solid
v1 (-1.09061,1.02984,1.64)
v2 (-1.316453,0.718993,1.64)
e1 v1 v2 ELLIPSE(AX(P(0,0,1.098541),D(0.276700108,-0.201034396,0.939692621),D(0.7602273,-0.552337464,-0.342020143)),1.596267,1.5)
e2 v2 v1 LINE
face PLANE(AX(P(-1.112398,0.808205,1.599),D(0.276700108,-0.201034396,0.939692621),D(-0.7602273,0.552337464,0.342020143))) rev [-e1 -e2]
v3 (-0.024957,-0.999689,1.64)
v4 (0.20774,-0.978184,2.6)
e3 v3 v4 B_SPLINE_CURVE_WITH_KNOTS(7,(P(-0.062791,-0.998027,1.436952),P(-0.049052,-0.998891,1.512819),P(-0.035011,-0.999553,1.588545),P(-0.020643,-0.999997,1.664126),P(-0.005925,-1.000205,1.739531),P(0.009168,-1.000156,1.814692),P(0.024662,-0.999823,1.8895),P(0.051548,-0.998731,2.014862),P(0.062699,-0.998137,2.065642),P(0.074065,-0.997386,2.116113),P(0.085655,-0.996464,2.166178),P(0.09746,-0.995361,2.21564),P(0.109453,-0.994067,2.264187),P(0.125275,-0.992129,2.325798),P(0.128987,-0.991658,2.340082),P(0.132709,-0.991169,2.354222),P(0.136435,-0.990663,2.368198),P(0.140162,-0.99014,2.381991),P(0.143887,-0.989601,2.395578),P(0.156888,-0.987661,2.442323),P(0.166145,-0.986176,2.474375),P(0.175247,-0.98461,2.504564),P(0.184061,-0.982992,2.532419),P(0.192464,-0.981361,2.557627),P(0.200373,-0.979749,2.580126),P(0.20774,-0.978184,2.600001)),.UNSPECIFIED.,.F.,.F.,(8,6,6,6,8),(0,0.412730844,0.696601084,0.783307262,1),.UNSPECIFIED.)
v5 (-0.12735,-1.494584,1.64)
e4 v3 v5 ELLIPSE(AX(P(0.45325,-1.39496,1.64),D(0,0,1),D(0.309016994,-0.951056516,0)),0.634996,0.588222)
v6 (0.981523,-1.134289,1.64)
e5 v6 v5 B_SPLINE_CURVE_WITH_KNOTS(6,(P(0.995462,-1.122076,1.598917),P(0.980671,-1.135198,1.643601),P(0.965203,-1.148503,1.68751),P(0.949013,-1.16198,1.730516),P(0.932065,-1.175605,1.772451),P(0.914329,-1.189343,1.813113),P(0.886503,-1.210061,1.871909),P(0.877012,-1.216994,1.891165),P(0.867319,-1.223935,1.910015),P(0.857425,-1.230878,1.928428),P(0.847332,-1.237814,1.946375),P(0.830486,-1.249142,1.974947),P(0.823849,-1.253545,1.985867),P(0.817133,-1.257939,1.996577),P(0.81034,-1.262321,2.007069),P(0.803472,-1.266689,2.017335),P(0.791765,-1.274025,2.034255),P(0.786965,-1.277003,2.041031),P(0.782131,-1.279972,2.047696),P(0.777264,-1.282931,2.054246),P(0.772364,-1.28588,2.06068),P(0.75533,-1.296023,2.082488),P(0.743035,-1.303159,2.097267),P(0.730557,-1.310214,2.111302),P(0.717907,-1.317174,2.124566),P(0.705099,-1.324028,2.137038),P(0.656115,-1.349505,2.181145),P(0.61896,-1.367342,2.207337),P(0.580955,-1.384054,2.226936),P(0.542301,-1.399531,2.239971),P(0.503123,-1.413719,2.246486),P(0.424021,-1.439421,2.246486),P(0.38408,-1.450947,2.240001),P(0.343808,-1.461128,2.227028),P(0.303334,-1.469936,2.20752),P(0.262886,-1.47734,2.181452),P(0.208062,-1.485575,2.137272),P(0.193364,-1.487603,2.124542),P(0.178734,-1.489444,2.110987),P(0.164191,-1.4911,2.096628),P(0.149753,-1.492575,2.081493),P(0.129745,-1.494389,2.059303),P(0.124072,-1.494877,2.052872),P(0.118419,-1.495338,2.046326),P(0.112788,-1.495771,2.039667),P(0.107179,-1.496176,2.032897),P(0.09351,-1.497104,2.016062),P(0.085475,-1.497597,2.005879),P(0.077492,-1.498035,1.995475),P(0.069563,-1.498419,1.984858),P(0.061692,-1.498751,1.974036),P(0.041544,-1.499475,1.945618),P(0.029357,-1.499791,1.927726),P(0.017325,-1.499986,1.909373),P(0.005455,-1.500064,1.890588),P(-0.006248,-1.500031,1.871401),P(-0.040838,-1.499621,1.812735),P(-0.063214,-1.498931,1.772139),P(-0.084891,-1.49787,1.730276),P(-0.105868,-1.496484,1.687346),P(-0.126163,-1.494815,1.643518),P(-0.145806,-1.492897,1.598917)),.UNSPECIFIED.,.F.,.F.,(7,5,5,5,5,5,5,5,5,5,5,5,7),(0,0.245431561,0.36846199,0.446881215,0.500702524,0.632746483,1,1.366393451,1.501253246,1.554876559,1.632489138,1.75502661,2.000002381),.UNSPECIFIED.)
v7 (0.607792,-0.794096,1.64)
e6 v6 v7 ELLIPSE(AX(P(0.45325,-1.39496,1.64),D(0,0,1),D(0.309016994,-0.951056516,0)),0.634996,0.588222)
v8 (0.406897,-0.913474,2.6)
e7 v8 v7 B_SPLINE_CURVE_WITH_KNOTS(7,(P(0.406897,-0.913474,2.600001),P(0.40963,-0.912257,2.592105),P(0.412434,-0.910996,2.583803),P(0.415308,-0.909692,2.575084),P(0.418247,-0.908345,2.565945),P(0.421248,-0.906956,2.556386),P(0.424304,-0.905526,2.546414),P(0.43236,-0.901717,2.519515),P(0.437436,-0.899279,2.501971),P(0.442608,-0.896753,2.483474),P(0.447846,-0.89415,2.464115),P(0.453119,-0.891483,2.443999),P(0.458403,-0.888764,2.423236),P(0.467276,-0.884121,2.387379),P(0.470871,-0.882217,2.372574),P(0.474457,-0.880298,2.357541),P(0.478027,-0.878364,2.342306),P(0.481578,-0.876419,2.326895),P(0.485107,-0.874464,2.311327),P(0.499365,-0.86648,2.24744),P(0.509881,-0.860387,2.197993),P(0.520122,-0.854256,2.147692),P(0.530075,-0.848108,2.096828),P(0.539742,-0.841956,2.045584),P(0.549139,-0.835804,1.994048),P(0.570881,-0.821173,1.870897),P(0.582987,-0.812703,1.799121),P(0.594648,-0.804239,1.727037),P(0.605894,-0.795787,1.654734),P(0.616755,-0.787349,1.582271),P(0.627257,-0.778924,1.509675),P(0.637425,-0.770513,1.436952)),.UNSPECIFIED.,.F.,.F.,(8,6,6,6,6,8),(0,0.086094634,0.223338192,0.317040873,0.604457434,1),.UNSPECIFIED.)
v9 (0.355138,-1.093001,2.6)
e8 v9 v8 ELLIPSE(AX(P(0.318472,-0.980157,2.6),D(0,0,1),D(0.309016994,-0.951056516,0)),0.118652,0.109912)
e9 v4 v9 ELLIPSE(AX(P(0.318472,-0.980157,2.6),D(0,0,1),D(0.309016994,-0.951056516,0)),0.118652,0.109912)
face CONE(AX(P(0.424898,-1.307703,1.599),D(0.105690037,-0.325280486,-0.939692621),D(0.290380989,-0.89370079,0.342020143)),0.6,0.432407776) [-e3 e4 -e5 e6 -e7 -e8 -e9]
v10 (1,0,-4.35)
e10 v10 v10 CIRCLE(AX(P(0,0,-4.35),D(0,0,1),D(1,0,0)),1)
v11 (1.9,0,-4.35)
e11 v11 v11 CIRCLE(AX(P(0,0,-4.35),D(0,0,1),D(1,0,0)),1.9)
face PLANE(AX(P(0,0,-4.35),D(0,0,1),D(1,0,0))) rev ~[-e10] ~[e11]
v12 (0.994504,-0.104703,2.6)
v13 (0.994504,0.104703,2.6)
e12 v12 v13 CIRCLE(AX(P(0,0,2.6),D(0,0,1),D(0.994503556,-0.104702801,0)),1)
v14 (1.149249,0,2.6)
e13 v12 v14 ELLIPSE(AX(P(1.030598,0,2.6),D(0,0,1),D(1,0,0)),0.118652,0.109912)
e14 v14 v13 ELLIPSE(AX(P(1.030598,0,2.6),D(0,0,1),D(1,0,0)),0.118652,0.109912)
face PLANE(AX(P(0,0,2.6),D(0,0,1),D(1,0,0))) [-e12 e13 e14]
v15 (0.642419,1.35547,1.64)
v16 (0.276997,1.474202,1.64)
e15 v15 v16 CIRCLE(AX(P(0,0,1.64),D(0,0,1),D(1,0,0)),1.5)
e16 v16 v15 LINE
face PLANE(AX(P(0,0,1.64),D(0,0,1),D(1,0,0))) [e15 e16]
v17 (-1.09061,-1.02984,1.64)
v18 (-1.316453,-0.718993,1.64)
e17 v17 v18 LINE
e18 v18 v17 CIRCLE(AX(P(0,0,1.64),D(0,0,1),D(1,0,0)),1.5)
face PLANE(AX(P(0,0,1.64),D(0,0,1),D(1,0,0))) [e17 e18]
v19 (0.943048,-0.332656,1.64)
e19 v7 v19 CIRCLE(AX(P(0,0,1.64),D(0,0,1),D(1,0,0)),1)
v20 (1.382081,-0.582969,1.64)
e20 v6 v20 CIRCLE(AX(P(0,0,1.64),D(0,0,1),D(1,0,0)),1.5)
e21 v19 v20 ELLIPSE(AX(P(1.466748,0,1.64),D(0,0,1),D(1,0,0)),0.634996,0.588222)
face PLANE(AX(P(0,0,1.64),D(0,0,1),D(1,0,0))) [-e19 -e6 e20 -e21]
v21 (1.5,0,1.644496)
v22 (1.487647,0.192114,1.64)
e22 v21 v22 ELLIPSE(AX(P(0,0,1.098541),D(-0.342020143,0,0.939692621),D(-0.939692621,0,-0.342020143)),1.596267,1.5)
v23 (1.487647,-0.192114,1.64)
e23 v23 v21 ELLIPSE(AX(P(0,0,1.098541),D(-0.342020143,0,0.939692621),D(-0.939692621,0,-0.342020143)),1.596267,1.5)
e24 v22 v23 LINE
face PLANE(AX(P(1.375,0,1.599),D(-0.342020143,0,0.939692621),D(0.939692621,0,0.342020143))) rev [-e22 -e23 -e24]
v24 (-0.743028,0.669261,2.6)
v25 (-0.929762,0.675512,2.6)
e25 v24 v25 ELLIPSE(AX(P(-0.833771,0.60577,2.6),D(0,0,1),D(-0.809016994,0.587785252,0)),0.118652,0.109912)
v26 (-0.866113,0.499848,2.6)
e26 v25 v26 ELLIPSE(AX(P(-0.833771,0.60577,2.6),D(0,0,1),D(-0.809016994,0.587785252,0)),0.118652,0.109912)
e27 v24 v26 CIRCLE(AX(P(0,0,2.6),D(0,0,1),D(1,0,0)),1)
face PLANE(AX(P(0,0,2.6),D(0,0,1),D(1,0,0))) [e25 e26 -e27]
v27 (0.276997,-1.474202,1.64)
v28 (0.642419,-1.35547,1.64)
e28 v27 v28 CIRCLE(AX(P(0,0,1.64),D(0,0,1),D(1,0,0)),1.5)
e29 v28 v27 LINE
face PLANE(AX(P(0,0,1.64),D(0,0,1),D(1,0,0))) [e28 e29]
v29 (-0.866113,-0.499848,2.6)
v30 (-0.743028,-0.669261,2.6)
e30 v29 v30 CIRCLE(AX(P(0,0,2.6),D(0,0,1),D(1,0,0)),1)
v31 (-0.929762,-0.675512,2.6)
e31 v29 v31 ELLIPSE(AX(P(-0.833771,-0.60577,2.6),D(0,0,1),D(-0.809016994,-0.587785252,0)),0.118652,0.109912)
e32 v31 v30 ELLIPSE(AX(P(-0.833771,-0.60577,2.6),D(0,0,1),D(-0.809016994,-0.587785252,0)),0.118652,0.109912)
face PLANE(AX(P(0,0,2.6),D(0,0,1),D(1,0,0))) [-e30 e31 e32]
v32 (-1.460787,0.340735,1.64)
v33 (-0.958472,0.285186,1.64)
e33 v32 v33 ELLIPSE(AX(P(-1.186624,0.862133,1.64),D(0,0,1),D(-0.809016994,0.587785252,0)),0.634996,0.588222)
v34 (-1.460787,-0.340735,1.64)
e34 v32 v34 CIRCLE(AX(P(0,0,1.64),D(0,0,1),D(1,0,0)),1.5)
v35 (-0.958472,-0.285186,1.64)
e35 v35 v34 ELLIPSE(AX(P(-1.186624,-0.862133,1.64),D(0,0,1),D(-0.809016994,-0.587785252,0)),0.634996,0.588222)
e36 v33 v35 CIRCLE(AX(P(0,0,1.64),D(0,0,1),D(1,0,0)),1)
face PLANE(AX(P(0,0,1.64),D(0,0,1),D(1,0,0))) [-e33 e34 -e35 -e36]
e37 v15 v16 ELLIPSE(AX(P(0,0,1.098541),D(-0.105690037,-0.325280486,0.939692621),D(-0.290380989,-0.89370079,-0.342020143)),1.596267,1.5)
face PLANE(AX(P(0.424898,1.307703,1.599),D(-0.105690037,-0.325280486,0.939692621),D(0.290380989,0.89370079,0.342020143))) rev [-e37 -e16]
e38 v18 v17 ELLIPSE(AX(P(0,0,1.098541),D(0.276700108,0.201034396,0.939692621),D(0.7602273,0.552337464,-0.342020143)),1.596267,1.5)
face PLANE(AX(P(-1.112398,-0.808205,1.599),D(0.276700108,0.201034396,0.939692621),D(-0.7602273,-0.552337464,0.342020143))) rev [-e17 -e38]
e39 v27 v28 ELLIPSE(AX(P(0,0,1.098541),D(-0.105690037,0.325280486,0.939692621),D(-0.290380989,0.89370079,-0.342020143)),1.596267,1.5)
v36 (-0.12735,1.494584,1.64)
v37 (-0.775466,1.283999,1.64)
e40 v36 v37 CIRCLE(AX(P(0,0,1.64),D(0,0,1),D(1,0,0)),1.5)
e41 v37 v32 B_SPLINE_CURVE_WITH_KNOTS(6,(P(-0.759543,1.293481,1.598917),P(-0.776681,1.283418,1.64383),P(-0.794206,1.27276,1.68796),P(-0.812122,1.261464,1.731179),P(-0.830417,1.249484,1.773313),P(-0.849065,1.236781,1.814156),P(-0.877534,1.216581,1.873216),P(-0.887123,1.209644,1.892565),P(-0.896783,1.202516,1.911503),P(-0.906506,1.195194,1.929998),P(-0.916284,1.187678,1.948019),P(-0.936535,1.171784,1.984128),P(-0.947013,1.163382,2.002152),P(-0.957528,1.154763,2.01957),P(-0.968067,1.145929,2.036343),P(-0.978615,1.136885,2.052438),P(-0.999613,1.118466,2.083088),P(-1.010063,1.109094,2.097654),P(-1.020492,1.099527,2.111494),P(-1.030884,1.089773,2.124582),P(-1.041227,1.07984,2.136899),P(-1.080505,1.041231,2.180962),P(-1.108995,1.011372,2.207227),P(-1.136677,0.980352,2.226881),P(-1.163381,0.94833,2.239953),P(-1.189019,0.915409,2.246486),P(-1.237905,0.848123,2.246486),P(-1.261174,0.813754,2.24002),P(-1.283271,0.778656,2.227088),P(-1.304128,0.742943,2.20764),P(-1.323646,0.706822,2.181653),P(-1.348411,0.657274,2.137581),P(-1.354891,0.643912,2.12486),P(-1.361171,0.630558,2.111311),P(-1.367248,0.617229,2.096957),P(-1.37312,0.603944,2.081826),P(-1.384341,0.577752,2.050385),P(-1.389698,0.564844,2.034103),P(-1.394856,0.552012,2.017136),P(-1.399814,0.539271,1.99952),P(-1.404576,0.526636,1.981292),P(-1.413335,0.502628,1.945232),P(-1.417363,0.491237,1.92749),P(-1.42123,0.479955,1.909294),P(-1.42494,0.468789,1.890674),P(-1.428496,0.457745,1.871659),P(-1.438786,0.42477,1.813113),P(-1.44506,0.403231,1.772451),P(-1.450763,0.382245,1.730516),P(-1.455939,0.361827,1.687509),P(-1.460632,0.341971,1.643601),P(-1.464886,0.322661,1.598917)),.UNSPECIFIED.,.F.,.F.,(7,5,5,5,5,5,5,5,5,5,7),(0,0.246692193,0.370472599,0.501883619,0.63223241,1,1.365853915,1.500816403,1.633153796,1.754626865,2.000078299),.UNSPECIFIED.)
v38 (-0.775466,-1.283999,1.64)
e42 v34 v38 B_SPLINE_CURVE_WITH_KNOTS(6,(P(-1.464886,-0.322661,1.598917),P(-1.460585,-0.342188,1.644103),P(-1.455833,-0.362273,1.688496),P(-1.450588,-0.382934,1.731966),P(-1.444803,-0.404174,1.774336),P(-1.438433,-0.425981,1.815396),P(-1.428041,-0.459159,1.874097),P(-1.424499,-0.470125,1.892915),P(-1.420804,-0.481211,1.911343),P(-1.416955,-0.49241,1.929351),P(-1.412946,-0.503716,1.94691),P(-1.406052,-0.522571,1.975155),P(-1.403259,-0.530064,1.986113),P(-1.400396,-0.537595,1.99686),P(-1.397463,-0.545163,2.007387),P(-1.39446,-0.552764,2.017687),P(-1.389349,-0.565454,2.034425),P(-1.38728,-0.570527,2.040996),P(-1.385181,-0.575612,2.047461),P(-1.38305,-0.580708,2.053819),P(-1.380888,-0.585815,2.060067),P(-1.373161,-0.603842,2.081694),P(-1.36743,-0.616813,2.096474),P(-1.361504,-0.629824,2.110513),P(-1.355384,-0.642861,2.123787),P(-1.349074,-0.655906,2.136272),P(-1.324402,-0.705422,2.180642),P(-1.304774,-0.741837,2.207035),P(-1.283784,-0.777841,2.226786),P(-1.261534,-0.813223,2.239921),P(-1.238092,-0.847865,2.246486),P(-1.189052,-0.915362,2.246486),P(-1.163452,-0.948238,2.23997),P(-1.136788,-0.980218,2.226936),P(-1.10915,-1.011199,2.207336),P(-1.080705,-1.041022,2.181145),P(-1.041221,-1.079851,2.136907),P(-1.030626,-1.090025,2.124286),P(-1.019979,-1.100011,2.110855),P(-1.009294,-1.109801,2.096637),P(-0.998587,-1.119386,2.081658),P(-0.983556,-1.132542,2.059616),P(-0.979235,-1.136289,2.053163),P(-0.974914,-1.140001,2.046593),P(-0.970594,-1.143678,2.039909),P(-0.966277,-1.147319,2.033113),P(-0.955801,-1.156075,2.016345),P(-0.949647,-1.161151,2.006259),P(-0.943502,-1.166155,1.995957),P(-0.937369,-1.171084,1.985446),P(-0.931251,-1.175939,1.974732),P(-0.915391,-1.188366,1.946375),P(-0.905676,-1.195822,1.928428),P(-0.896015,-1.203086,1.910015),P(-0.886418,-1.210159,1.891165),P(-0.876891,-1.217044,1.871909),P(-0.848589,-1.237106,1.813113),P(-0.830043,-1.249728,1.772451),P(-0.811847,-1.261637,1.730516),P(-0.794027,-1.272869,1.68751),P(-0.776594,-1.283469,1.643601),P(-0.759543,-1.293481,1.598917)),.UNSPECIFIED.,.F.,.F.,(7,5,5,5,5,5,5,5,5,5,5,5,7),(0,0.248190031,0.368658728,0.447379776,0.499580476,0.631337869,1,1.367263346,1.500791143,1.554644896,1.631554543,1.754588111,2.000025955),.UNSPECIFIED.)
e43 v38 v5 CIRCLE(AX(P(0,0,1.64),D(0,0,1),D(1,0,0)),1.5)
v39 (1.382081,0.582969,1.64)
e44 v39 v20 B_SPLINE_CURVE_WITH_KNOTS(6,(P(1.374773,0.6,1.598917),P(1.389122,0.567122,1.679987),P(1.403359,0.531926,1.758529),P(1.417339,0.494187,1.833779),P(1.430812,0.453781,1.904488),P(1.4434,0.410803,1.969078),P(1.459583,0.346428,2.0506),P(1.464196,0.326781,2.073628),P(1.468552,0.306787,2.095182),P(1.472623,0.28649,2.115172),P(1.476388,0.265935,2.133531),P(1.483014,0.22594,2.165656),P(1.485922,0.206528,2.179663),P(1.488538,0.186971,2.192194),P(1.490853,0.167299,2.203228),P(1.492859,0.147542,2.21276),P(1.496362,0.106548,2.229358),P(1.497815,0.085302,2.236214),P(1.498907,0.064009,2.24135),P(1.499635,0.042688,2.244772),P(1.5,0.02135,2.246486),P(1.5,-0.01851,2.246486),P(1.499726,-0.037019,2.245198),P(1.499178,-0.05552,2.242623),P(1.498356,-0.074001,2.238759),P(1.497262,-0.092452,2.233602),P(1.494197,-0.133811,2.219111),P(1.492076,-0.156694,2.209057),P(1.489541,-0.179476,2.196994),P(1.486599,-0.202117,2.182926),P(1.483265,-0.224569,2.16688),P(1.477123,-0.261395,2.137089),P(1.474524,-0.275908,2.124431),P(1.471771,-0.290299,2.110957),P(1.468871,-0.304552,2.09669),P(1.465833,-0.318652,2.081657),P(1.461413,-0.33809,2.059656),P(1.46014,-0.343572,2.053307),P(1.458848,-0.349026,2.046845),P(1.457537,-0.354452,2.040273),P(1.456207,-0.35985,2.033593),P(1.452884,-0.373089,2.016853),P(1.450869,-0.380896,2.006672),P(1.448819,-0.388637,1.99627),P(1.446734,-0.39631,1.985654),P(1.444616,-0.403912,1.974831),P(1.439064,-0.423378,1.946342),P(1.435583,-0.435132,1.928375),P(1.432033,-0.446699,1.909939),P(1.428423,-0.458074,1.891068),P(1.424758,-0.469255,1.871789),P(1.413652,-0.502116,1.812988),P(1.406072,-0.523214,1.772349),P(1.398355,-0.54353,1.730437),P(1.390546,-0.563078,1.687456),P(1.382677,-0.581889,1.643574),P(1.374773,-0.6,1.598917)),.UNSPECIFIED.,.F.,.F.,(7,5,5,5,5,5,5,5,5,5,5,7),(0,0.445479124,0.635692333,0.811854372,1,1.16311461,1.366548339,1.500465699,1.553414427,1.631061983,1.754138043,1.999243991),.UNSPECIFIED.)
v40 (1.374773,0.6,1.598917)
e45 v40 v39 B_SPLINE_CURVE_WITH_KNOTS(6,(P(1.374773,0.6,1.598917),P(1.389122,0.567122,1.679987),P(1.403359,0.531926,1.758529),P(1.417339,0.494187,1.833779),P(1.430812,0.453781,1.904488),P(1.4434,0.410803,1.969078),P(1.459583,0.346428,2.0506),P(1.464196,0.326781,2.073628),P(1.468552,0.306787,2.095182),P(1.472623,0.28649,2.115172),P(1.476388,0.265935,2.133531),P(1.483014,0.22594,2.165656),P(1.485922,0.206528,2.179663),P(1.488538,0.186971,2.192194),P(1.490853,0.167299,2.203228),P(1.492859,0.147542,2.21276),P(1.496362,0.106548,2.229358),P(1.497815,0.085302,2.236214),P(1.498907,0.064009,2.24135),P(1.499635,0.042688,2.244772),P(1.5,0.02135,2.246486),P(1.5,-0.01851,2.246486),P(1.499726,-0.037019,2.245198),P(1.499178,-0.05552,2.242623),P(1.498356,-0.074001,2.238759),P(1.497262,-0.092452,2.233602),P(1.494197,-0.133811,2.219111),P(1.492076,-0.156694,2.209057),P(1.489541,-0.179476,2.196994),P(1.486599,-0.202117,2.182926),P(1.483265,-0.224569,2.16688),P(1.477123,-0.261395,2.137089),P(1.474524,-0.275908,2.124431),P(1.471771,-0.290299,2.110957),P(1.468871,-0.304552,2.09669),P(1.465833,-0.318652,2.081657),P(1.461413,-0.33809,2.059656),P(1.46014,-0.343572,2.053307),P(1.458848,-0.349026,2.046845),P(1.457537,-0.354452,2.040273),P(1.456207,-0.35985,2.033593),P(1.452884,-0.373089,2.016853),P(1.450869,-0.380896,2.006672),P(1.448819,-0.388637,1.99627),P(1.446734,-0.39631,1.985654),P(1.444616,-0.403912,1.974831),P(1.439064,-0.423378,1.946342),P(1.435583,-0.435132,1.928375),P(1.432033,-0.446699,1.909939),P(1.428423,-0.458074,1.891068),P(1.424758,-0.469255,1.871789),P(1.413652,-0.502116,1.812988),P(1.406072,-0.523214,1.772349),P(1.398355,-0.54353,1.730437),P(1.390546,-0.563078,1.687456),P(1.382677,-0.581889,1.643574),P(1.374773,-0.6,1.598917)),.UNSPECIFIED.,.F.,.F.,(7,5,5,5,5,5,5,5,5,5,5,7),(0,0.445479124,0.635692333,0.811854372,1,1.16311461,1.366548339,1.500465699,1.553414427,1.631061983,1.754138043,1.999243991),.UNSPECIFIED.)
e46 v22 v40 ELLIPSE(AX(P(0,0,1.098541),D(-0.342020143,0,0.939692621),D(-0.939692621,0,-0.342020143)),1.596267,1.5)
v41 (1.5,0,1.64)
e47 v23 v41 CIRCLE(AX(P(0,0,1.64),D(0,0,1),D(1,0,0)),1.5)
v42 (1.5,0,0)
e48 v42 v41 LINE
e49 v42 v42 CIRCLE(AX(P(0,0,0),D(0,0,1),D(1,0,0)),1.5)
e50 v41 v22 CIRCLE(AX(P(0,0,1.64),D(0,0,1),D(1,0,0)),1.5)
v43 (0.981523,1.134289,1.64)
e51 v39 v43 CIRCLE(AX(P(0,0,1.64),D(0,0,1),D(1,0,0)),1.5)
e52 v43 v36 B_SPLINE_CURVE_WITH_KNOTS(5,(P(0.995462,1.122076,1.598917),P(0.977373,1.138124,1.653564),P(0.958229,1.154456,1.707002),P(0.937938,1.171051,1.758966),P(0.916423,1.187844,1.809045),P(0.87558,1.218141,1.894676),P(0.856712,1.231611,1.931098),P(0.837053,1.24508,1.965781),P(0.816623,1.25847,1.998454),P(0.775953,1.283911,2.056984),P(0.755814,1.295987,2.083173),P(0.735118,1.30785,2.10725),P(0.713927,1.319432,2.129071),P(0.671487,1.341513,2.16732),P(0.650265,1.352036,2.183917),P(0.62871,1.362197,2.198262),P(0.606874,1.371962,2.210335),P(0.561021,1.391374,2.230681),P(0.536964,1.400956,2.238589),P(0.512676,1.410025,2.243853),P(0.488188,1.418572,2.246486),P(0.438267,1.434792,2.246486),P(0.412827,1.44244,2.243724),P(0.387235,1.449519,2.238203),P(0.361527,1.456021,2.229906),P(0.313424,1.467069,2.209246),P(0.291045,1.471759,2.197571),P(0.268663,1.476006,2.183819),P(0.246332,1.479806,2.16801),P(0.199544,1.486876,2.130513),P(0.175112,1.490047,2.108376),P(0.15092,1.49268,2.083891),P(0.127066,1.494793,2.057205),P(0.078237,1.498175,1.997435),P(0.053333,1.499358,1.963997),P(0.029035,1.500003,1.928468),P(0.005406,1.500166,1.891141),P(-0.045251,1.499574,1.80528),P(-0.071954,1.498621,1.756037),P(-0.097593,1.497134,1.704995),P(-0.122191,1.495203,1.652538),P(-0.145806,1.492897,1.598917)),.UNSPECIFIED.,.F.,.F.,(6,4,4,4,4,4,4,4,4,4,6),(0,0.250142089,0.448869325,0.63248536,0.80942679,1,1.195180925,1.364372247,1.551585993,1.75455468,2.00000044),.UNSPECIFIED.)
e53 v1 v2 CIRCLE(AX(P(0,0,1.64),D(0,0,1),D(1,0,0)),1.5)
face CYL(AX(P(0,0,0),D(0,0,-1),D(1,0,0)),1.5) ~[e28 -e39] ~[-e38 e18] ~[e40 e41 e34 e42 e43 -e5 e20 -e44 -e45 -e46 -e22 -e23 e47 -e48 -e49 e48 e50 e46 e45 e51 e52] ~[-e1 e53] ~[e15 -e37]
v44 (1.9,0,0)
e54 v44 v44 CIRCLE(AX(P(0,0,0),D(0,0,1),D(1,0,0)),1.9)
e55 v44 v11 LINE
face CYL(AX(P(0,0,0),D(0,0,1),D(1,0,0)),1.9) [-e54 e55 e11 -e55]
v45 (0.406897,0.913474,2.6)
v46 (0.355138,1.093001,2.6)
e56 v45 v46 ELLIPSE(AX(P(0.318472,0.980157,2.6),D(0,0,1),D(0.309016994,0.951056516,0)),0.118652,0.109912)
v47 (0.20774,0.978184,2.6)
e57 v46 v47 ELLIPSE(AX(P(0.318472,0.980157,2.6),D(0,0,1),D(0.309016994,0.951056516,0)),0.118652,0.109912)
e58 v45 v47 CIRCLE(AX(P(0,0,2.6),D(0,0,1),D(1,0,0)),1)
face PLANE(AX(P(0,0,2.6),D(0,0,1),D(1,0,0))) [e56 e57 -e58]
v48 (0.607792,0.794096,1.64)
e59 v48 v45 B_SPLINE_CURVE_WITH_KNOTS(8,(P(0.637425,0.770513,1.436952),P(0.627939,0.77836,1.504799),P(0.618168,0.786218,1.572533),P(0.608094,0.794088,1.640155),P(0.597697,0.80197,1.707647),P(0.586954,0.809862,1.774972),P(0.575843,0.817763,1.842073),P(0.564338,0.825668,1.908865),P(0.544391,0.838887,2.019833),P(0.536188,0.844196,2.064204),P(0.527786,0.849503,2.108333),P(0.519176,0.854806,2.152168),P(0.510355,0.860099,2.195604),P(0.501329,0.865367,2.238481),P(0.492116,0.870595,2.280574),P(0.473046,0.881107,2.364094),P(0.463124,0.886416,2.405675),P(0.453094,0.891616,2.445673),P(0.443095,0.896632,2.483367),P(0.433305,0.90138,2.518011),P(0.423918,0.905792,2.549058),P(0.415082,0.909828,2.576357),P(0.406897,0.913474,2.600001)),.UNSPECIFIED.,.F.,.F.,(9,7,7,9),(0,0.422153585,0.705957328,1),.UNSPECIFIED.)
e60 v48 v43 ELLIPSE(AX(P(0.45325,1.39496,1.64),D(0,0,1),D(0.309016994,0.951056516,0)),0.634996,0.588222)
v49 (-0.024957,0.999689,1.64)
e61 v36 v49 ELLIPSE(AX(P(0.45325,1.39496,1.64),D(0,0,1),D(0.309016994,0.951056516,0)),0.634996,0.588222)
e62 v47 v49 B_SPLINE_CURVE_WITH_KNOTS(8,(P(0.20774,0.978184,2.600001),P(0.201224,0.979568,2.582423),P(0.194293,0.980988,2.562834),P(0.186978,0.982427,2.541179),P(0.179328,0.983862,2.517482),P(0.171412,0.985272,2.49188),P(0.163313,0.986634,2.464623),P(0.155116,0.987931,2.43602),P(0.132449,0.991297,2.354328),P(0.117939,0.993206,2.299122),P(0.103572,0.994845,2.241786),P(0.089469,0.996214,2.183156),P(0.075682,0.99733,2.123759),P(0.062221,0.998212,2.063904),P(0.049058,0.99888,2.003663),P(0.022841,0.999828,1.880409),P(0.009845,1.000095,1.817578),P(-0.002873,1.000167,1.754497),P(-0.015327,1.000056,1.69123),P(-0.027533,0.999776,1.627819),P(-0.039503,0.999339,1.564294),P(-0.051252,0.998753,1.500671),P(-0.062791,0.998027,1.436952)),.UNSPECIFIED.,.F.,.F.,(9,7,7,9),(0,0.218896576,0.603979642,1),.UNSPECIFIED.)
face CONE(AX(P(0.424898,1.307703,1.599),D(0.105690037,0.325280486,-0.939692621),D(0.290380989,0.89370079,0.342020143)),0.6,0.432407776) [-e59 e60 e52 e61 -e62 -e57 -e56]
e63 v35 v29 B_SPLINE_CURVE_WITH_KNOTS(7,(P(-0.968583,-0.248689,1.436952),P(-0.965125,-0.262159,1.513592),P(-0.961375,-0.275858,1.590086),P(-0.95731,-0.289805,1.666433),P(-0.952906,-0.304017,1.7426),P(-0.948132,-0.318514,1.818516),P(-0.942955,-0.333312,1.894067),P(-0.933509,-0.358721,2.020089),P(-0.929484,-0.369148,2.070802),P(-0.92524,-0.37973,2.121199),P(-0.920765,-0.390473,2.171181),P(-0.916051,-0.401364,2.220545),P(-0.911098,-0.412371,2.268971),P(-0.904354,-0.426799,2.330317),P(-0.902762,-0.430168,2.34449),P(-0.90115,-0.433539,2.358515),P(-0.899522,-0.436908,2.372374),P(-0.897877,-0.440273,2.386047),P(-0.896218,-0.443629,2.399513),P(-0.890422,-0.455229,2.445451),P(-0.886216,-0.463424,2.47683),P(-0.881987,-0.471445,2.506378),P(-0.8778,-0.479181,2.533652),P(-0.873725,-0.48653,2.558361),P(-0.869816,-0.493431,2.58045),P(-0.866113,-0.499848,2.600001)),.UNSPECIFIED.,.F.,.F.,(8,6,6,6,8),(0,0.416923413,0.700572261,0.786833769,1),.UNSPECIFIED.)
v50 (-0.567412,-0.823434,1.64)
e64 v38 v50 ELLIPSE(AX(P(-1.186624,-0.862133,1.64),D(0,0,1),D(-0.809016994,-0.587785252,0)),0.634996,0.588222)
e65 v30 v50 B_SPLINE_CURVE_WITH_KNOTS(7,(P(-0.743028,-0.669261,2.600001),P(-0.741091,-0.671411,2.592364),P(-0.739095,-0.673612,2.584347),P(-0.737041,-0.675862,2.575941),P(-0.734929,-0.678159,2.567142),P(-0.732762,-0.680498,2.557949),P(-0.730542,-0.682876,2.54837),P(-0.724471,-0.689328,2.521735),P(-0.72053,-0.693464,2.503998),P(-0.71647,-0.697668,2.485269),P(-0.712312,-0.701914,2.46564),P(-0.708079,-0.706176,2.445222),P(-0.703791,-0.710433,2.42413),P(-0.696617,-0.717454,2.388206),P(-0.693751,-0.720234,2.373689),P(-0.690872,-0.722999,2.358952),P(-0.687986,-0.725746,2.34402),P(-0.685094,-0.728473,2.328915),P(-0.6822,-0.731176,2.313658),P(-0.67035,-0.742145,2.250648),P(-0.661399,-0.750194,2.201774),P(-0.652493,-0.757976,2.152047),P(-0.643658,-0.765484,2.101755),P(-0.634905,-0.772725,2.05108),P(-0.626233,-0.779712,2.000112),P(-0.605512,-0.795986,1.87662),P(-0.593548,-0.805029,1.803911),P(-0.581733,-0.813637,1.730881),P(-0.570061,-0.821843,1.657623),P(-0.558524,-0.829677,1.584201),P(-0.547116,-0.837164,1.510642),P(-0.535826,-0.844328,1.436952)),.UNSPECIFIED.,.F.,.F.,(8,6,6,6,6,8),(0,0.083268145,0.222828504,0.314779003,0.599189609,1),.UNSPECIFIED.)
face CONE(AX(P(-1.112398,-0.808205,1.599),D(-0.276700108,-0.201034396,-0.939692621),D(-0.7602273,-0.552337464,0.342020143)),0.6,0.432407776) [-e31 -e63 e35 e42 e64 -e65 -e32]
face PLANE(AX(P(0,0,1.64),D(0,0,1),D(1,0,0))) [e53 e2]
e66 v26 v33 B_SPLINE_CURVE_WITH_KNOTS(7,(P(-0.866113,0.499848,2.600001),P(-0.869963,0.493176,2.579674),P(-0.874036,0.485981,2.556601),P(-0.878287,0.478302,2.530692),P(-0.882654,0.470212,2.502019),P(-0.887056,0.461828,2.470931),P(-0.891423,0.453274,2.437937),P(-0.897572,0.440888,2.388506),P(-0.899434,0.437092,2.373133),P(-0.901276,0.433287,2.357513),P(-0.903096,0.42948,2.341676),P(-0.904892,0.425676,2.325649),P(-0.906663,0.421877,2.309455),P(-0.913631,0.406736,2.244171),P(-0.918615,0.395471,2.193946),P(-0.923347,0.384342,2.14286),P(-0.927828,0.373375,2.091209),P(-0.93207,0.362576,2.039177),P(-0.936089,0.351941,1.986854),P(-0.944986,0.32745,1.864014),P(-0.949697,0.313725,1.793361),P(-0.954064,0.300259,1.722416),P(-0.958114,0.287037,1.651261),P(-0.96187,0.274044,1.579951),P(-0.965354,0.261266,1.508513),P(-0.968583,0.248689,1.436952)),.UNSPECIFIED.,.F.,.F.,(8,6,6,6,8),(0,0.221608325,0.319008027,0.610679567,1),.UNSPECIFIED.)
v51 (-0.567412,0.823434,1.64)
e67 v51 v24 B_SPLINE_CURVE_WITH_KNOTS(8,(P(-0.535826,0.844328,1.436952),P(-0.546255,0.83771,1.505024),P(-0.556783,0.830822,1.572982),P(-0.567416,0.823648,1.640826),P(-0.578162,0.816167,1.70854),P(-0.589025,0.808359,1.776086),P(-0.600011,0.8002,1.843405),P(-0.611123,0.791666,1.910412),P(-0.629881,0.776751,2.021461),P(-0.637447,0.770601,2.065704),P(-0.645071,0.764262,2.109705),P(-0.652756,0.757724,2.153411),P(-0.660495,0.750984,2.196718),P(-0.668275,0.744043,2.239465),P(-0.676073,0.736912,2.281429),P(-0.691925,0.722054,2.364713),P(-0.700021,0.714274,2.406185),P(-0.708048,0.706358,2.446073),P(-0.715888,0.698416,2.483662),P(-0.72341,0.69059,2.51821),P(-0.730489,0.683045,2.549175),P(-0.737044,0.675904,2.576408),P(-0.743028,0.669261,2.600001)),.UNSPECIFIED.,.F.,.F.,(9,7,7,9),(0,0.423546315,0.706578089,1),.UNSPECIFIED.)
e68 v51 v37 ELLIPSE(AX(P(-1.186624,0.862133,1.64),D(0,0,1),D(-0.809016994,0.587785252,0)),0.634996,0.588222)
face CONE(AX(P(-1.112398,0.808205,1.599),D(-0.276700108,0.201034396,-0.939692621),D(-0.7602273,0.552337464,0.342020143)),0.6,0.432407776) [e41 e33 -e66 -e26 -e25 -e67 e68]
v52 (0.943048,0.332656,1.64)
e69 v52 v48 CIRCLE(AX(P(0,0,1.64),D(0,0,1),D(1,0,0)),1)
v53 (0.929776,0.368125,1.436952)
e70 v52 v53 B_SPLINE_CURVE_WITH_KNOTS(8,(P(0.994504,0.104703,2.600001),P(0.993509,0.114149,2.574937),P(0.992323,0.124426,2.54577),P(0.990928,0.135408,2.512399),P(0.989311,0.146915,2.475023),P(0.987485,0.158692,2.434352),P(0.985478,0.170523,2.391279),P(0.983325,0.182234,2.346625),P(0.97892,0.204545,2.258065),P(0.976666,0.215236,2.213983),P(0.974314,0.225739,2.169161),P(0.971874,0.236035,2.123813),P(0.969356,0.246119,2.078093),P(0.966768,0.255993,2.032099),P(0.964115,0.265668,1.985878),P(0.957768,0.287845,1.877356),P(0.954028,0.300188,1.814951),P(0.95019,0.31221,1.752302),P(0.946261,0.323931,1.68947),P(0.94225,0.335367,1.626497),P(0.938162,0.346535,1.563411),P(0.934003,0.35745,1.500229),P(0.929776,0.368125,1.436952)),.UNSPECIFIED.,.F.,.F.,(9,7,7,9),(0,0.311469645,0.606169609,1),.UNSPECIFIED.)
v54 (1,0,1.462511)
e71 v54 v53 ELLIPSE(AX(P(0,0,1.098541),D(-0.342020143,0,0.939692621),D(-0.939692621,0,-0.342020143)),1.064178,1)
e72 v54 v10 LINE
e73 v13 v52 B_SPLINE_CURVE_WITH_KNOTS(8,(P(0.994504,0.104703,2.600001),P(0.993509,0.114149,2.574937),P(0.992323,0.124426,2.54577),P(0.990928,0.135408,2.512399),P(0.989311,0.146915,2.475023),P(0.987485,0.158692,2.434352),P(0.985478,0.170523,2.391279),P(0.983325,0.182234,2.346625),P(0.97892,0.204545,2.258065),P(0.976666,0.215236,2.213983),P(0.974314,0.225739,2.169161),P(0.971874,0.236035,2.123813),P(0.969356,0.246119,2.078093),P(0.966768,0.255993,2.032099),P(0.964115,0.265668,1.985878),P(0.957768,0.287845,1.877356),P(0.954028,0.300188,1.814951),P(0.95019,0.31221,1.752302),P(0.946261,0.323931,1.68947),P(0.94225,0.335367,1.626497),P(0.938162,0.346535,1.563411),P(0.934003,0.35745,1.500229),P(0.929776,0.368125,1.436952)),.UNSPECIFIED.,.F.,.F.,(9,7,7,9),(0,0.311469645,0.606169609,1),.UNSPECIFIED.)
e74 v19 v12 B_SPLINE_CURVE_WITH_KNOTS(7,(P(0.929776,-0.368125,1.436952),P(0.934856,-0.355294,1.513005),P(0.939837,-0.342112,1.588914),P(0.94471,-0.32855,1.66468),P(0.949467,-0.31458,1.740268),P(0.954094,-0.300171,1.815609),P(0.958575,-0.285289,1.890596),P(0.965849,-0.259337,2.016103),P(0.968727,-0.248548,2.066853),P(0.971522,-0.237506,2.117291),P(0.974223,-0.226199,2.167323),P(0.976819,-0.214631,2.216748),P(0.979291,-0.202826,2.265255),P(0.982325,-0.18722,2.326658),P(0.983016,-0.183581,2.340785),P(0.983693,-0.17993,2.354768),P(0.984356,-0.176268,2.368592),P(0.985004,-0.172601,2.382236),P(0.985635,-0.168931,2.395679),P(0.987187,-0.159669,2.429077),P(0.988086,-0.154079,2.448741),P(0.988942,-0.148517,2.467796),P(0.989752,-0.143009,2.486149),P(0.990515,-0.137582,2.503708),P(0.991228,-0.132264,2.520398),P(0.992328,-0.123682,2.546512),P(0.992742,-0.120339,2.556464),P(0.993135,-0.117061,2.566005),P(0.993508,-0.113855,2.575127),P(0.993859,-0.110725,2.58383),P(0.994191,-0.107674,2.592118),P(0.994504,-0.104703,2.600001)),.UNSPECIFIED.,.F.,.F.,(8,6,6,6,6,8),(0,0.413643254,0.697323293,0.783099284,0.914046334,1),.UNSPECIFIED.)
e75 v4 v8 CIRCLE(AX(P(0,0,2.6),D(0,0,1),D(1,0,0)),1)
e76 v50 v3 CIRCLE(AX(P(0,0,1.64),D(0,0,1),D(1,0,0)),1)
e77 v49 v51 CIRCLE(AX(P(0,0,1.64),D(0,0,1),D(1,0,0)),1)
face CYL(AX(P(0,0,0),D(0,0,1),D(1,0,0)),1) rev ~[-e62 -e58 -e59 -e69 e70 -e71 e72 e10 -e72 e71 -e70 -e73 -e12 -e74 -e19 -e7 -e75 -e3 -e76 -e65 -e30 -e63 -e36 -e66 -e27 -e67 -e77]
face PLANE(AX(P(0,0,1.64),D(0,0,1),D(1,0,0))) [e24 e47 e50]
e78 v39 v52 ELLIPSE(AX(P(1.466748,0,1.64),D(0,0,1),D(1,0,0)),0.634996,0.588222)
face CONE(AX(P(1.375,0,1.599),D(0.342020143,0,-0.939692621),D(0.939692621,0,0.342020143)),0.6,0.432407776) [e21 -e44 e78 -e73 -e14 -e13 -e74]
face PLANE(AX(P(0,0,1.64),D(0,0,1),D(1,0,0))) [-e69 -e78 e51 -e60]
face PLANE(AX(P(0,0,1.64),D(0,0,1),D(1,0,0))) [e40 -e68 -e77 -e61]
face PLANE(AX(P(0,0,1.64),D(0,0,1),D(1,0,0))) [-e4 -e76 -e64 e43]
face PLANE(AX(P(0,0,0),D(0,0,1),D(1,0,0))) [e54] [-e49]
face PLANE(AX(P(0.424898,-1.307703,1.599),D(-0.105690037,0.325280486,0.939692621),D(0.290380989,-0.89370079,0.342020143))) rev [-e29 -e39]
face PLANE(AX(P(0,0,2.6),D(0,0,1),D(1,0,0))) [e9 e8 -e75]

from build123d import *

# Parameters (mm, degrees)
F0_R      = 1.5
F0_R_2    = 1
F1_DEPTH  = 2.6
F5_COUNT  = 5
F5_ANGLE  = 288
F17_DEPTH = 1.64
F0_R_3    = 1.9
F18_DEPTH = 4.35


with BuildPart() as f1:
    # F0 (on Top) → F1 (new body)
    with BuildSketch(Plane.XY):
        Circle(F0_R)
        Circle(F0_R_2, mode=Mode.SUBTRACT)
    extrude(amount=F1_DEPTH)


with BuildPart() as f4:
    # F3 (on Front) → F4 (revolve)
    with BuildSketch(Plane.XZ):
        Polygon((0.9303738137, 2.820600407), (1.375, 1.599), (1.9388155725, 1.804212086), align=None)
    revolve(axis=Axis((1.1526869068, 0, 2.2098002035), (-0.3420201433, 0, 0.9396926208)))


with BuildPart() as f5_1:
    # F5: instance of F4
    add(f4.part.rotate(Axis((0, 0, 0.7995), (0, 0, 1)), 1 * F5_ANGLE / (F5_COUNT - 1)))


with BuildPart() as f5_2:
    # F5: instance of F4
    add(f4.part.rotate(Axis((0, 0, 0.7995), (0, 0, 1)), 2 * F5_ANGLE / (F5_COUNT - 1)))


with BuildPart() as f5_3:
    # F5: instance of F4
    add(f4.part.rotate(Axis((0, 0, 0.7995), (0, 0, 1)), 3 * F5_ANGLE / (F5_COUNT - 1)))


with BuildPart() as f5_4:
    # F5: instance of F4
    add(f4.part.rotate(Axis((0, 0, 0.7995), (0, 0, 1)), 4 * F5_ANGLE / (F5_COUNT - 1)))


with BuildPart() as f6_1:
    # F6: copy of F1
    add(f1.part)


with BuildPart() as f1_1:
    add(f1.part)

    # F7: intersect F4
    add(f4.part, mode=Mode.INTERSECT)



with BuildPart() as f8_1:
    # F8: copy of F6_1
    add(f6_1.part)


with BuildPart() as f9_1:
    # F9: copy of F8_1
    add(f8_1.part)


with BuildPart() as f10_1:
    # F10: copy of F9_1
    add(f9_1.part)


with BuildPart() as f5_1_1:
    add(f5_1.part)

    # F11: intersect F6_1
    add(f6_1.part, mode=Mode.INTERSECT)


with BuildPart() as f5_2_1:
    add(f5_2.part)

    # F12: intersect F8_1
    add(f8_1.part, mode=Mode.INTERSECT)


with BuildPart() as f5_3_1:
    add(f5_3.part)

    # F13: intersect F9_1
    add(f9_1.part, mode=Mode.INTERSECT)


with BuildPart() as f14_1:
    # F14: copy of F10_1
    add(f10_1.part)


with BuildPart() as f10_1_1:
    add(f10_1.part)

    # F15: intersect F5_4
    add(f5_4.part, mode=Mode.INTERSECT)


with BuildPart() as f17:
    # F0 (on Top) → F17 (new body)
    with BuildSketch(Plane.XY):
        Circle(F0_R)
        Circle(F0_R_2, mode=Mode.SUBTRACT)
    extrude(amount=F17_DEPTH)


with BuildPart() as f1_2:
    add(f1_1.part)

    add(f5_1_1.part)  # F18 merges F5_1

    add(f5_2_1.part)  # F18 merges F5_2

    add(f5_3_1.part)  # F18 merges F5_3

    add(f10_1_1.part)  # F18 merges F10_1

    add(f17.part)  # F18 merges F17
    # F0 (on Top) → F18 (join)
    with BuildSketch(Plane.XY):
        Circle(F0_R_3)
        Circle(F0_R, mode=Mode.SUBTRACT)
        Circle(F0_R)
        Circle(F0_R_2, mode=Mode.SUBTRACT)
    extrude(amount=-F18_DEPTH)


solid = f1_2.part
